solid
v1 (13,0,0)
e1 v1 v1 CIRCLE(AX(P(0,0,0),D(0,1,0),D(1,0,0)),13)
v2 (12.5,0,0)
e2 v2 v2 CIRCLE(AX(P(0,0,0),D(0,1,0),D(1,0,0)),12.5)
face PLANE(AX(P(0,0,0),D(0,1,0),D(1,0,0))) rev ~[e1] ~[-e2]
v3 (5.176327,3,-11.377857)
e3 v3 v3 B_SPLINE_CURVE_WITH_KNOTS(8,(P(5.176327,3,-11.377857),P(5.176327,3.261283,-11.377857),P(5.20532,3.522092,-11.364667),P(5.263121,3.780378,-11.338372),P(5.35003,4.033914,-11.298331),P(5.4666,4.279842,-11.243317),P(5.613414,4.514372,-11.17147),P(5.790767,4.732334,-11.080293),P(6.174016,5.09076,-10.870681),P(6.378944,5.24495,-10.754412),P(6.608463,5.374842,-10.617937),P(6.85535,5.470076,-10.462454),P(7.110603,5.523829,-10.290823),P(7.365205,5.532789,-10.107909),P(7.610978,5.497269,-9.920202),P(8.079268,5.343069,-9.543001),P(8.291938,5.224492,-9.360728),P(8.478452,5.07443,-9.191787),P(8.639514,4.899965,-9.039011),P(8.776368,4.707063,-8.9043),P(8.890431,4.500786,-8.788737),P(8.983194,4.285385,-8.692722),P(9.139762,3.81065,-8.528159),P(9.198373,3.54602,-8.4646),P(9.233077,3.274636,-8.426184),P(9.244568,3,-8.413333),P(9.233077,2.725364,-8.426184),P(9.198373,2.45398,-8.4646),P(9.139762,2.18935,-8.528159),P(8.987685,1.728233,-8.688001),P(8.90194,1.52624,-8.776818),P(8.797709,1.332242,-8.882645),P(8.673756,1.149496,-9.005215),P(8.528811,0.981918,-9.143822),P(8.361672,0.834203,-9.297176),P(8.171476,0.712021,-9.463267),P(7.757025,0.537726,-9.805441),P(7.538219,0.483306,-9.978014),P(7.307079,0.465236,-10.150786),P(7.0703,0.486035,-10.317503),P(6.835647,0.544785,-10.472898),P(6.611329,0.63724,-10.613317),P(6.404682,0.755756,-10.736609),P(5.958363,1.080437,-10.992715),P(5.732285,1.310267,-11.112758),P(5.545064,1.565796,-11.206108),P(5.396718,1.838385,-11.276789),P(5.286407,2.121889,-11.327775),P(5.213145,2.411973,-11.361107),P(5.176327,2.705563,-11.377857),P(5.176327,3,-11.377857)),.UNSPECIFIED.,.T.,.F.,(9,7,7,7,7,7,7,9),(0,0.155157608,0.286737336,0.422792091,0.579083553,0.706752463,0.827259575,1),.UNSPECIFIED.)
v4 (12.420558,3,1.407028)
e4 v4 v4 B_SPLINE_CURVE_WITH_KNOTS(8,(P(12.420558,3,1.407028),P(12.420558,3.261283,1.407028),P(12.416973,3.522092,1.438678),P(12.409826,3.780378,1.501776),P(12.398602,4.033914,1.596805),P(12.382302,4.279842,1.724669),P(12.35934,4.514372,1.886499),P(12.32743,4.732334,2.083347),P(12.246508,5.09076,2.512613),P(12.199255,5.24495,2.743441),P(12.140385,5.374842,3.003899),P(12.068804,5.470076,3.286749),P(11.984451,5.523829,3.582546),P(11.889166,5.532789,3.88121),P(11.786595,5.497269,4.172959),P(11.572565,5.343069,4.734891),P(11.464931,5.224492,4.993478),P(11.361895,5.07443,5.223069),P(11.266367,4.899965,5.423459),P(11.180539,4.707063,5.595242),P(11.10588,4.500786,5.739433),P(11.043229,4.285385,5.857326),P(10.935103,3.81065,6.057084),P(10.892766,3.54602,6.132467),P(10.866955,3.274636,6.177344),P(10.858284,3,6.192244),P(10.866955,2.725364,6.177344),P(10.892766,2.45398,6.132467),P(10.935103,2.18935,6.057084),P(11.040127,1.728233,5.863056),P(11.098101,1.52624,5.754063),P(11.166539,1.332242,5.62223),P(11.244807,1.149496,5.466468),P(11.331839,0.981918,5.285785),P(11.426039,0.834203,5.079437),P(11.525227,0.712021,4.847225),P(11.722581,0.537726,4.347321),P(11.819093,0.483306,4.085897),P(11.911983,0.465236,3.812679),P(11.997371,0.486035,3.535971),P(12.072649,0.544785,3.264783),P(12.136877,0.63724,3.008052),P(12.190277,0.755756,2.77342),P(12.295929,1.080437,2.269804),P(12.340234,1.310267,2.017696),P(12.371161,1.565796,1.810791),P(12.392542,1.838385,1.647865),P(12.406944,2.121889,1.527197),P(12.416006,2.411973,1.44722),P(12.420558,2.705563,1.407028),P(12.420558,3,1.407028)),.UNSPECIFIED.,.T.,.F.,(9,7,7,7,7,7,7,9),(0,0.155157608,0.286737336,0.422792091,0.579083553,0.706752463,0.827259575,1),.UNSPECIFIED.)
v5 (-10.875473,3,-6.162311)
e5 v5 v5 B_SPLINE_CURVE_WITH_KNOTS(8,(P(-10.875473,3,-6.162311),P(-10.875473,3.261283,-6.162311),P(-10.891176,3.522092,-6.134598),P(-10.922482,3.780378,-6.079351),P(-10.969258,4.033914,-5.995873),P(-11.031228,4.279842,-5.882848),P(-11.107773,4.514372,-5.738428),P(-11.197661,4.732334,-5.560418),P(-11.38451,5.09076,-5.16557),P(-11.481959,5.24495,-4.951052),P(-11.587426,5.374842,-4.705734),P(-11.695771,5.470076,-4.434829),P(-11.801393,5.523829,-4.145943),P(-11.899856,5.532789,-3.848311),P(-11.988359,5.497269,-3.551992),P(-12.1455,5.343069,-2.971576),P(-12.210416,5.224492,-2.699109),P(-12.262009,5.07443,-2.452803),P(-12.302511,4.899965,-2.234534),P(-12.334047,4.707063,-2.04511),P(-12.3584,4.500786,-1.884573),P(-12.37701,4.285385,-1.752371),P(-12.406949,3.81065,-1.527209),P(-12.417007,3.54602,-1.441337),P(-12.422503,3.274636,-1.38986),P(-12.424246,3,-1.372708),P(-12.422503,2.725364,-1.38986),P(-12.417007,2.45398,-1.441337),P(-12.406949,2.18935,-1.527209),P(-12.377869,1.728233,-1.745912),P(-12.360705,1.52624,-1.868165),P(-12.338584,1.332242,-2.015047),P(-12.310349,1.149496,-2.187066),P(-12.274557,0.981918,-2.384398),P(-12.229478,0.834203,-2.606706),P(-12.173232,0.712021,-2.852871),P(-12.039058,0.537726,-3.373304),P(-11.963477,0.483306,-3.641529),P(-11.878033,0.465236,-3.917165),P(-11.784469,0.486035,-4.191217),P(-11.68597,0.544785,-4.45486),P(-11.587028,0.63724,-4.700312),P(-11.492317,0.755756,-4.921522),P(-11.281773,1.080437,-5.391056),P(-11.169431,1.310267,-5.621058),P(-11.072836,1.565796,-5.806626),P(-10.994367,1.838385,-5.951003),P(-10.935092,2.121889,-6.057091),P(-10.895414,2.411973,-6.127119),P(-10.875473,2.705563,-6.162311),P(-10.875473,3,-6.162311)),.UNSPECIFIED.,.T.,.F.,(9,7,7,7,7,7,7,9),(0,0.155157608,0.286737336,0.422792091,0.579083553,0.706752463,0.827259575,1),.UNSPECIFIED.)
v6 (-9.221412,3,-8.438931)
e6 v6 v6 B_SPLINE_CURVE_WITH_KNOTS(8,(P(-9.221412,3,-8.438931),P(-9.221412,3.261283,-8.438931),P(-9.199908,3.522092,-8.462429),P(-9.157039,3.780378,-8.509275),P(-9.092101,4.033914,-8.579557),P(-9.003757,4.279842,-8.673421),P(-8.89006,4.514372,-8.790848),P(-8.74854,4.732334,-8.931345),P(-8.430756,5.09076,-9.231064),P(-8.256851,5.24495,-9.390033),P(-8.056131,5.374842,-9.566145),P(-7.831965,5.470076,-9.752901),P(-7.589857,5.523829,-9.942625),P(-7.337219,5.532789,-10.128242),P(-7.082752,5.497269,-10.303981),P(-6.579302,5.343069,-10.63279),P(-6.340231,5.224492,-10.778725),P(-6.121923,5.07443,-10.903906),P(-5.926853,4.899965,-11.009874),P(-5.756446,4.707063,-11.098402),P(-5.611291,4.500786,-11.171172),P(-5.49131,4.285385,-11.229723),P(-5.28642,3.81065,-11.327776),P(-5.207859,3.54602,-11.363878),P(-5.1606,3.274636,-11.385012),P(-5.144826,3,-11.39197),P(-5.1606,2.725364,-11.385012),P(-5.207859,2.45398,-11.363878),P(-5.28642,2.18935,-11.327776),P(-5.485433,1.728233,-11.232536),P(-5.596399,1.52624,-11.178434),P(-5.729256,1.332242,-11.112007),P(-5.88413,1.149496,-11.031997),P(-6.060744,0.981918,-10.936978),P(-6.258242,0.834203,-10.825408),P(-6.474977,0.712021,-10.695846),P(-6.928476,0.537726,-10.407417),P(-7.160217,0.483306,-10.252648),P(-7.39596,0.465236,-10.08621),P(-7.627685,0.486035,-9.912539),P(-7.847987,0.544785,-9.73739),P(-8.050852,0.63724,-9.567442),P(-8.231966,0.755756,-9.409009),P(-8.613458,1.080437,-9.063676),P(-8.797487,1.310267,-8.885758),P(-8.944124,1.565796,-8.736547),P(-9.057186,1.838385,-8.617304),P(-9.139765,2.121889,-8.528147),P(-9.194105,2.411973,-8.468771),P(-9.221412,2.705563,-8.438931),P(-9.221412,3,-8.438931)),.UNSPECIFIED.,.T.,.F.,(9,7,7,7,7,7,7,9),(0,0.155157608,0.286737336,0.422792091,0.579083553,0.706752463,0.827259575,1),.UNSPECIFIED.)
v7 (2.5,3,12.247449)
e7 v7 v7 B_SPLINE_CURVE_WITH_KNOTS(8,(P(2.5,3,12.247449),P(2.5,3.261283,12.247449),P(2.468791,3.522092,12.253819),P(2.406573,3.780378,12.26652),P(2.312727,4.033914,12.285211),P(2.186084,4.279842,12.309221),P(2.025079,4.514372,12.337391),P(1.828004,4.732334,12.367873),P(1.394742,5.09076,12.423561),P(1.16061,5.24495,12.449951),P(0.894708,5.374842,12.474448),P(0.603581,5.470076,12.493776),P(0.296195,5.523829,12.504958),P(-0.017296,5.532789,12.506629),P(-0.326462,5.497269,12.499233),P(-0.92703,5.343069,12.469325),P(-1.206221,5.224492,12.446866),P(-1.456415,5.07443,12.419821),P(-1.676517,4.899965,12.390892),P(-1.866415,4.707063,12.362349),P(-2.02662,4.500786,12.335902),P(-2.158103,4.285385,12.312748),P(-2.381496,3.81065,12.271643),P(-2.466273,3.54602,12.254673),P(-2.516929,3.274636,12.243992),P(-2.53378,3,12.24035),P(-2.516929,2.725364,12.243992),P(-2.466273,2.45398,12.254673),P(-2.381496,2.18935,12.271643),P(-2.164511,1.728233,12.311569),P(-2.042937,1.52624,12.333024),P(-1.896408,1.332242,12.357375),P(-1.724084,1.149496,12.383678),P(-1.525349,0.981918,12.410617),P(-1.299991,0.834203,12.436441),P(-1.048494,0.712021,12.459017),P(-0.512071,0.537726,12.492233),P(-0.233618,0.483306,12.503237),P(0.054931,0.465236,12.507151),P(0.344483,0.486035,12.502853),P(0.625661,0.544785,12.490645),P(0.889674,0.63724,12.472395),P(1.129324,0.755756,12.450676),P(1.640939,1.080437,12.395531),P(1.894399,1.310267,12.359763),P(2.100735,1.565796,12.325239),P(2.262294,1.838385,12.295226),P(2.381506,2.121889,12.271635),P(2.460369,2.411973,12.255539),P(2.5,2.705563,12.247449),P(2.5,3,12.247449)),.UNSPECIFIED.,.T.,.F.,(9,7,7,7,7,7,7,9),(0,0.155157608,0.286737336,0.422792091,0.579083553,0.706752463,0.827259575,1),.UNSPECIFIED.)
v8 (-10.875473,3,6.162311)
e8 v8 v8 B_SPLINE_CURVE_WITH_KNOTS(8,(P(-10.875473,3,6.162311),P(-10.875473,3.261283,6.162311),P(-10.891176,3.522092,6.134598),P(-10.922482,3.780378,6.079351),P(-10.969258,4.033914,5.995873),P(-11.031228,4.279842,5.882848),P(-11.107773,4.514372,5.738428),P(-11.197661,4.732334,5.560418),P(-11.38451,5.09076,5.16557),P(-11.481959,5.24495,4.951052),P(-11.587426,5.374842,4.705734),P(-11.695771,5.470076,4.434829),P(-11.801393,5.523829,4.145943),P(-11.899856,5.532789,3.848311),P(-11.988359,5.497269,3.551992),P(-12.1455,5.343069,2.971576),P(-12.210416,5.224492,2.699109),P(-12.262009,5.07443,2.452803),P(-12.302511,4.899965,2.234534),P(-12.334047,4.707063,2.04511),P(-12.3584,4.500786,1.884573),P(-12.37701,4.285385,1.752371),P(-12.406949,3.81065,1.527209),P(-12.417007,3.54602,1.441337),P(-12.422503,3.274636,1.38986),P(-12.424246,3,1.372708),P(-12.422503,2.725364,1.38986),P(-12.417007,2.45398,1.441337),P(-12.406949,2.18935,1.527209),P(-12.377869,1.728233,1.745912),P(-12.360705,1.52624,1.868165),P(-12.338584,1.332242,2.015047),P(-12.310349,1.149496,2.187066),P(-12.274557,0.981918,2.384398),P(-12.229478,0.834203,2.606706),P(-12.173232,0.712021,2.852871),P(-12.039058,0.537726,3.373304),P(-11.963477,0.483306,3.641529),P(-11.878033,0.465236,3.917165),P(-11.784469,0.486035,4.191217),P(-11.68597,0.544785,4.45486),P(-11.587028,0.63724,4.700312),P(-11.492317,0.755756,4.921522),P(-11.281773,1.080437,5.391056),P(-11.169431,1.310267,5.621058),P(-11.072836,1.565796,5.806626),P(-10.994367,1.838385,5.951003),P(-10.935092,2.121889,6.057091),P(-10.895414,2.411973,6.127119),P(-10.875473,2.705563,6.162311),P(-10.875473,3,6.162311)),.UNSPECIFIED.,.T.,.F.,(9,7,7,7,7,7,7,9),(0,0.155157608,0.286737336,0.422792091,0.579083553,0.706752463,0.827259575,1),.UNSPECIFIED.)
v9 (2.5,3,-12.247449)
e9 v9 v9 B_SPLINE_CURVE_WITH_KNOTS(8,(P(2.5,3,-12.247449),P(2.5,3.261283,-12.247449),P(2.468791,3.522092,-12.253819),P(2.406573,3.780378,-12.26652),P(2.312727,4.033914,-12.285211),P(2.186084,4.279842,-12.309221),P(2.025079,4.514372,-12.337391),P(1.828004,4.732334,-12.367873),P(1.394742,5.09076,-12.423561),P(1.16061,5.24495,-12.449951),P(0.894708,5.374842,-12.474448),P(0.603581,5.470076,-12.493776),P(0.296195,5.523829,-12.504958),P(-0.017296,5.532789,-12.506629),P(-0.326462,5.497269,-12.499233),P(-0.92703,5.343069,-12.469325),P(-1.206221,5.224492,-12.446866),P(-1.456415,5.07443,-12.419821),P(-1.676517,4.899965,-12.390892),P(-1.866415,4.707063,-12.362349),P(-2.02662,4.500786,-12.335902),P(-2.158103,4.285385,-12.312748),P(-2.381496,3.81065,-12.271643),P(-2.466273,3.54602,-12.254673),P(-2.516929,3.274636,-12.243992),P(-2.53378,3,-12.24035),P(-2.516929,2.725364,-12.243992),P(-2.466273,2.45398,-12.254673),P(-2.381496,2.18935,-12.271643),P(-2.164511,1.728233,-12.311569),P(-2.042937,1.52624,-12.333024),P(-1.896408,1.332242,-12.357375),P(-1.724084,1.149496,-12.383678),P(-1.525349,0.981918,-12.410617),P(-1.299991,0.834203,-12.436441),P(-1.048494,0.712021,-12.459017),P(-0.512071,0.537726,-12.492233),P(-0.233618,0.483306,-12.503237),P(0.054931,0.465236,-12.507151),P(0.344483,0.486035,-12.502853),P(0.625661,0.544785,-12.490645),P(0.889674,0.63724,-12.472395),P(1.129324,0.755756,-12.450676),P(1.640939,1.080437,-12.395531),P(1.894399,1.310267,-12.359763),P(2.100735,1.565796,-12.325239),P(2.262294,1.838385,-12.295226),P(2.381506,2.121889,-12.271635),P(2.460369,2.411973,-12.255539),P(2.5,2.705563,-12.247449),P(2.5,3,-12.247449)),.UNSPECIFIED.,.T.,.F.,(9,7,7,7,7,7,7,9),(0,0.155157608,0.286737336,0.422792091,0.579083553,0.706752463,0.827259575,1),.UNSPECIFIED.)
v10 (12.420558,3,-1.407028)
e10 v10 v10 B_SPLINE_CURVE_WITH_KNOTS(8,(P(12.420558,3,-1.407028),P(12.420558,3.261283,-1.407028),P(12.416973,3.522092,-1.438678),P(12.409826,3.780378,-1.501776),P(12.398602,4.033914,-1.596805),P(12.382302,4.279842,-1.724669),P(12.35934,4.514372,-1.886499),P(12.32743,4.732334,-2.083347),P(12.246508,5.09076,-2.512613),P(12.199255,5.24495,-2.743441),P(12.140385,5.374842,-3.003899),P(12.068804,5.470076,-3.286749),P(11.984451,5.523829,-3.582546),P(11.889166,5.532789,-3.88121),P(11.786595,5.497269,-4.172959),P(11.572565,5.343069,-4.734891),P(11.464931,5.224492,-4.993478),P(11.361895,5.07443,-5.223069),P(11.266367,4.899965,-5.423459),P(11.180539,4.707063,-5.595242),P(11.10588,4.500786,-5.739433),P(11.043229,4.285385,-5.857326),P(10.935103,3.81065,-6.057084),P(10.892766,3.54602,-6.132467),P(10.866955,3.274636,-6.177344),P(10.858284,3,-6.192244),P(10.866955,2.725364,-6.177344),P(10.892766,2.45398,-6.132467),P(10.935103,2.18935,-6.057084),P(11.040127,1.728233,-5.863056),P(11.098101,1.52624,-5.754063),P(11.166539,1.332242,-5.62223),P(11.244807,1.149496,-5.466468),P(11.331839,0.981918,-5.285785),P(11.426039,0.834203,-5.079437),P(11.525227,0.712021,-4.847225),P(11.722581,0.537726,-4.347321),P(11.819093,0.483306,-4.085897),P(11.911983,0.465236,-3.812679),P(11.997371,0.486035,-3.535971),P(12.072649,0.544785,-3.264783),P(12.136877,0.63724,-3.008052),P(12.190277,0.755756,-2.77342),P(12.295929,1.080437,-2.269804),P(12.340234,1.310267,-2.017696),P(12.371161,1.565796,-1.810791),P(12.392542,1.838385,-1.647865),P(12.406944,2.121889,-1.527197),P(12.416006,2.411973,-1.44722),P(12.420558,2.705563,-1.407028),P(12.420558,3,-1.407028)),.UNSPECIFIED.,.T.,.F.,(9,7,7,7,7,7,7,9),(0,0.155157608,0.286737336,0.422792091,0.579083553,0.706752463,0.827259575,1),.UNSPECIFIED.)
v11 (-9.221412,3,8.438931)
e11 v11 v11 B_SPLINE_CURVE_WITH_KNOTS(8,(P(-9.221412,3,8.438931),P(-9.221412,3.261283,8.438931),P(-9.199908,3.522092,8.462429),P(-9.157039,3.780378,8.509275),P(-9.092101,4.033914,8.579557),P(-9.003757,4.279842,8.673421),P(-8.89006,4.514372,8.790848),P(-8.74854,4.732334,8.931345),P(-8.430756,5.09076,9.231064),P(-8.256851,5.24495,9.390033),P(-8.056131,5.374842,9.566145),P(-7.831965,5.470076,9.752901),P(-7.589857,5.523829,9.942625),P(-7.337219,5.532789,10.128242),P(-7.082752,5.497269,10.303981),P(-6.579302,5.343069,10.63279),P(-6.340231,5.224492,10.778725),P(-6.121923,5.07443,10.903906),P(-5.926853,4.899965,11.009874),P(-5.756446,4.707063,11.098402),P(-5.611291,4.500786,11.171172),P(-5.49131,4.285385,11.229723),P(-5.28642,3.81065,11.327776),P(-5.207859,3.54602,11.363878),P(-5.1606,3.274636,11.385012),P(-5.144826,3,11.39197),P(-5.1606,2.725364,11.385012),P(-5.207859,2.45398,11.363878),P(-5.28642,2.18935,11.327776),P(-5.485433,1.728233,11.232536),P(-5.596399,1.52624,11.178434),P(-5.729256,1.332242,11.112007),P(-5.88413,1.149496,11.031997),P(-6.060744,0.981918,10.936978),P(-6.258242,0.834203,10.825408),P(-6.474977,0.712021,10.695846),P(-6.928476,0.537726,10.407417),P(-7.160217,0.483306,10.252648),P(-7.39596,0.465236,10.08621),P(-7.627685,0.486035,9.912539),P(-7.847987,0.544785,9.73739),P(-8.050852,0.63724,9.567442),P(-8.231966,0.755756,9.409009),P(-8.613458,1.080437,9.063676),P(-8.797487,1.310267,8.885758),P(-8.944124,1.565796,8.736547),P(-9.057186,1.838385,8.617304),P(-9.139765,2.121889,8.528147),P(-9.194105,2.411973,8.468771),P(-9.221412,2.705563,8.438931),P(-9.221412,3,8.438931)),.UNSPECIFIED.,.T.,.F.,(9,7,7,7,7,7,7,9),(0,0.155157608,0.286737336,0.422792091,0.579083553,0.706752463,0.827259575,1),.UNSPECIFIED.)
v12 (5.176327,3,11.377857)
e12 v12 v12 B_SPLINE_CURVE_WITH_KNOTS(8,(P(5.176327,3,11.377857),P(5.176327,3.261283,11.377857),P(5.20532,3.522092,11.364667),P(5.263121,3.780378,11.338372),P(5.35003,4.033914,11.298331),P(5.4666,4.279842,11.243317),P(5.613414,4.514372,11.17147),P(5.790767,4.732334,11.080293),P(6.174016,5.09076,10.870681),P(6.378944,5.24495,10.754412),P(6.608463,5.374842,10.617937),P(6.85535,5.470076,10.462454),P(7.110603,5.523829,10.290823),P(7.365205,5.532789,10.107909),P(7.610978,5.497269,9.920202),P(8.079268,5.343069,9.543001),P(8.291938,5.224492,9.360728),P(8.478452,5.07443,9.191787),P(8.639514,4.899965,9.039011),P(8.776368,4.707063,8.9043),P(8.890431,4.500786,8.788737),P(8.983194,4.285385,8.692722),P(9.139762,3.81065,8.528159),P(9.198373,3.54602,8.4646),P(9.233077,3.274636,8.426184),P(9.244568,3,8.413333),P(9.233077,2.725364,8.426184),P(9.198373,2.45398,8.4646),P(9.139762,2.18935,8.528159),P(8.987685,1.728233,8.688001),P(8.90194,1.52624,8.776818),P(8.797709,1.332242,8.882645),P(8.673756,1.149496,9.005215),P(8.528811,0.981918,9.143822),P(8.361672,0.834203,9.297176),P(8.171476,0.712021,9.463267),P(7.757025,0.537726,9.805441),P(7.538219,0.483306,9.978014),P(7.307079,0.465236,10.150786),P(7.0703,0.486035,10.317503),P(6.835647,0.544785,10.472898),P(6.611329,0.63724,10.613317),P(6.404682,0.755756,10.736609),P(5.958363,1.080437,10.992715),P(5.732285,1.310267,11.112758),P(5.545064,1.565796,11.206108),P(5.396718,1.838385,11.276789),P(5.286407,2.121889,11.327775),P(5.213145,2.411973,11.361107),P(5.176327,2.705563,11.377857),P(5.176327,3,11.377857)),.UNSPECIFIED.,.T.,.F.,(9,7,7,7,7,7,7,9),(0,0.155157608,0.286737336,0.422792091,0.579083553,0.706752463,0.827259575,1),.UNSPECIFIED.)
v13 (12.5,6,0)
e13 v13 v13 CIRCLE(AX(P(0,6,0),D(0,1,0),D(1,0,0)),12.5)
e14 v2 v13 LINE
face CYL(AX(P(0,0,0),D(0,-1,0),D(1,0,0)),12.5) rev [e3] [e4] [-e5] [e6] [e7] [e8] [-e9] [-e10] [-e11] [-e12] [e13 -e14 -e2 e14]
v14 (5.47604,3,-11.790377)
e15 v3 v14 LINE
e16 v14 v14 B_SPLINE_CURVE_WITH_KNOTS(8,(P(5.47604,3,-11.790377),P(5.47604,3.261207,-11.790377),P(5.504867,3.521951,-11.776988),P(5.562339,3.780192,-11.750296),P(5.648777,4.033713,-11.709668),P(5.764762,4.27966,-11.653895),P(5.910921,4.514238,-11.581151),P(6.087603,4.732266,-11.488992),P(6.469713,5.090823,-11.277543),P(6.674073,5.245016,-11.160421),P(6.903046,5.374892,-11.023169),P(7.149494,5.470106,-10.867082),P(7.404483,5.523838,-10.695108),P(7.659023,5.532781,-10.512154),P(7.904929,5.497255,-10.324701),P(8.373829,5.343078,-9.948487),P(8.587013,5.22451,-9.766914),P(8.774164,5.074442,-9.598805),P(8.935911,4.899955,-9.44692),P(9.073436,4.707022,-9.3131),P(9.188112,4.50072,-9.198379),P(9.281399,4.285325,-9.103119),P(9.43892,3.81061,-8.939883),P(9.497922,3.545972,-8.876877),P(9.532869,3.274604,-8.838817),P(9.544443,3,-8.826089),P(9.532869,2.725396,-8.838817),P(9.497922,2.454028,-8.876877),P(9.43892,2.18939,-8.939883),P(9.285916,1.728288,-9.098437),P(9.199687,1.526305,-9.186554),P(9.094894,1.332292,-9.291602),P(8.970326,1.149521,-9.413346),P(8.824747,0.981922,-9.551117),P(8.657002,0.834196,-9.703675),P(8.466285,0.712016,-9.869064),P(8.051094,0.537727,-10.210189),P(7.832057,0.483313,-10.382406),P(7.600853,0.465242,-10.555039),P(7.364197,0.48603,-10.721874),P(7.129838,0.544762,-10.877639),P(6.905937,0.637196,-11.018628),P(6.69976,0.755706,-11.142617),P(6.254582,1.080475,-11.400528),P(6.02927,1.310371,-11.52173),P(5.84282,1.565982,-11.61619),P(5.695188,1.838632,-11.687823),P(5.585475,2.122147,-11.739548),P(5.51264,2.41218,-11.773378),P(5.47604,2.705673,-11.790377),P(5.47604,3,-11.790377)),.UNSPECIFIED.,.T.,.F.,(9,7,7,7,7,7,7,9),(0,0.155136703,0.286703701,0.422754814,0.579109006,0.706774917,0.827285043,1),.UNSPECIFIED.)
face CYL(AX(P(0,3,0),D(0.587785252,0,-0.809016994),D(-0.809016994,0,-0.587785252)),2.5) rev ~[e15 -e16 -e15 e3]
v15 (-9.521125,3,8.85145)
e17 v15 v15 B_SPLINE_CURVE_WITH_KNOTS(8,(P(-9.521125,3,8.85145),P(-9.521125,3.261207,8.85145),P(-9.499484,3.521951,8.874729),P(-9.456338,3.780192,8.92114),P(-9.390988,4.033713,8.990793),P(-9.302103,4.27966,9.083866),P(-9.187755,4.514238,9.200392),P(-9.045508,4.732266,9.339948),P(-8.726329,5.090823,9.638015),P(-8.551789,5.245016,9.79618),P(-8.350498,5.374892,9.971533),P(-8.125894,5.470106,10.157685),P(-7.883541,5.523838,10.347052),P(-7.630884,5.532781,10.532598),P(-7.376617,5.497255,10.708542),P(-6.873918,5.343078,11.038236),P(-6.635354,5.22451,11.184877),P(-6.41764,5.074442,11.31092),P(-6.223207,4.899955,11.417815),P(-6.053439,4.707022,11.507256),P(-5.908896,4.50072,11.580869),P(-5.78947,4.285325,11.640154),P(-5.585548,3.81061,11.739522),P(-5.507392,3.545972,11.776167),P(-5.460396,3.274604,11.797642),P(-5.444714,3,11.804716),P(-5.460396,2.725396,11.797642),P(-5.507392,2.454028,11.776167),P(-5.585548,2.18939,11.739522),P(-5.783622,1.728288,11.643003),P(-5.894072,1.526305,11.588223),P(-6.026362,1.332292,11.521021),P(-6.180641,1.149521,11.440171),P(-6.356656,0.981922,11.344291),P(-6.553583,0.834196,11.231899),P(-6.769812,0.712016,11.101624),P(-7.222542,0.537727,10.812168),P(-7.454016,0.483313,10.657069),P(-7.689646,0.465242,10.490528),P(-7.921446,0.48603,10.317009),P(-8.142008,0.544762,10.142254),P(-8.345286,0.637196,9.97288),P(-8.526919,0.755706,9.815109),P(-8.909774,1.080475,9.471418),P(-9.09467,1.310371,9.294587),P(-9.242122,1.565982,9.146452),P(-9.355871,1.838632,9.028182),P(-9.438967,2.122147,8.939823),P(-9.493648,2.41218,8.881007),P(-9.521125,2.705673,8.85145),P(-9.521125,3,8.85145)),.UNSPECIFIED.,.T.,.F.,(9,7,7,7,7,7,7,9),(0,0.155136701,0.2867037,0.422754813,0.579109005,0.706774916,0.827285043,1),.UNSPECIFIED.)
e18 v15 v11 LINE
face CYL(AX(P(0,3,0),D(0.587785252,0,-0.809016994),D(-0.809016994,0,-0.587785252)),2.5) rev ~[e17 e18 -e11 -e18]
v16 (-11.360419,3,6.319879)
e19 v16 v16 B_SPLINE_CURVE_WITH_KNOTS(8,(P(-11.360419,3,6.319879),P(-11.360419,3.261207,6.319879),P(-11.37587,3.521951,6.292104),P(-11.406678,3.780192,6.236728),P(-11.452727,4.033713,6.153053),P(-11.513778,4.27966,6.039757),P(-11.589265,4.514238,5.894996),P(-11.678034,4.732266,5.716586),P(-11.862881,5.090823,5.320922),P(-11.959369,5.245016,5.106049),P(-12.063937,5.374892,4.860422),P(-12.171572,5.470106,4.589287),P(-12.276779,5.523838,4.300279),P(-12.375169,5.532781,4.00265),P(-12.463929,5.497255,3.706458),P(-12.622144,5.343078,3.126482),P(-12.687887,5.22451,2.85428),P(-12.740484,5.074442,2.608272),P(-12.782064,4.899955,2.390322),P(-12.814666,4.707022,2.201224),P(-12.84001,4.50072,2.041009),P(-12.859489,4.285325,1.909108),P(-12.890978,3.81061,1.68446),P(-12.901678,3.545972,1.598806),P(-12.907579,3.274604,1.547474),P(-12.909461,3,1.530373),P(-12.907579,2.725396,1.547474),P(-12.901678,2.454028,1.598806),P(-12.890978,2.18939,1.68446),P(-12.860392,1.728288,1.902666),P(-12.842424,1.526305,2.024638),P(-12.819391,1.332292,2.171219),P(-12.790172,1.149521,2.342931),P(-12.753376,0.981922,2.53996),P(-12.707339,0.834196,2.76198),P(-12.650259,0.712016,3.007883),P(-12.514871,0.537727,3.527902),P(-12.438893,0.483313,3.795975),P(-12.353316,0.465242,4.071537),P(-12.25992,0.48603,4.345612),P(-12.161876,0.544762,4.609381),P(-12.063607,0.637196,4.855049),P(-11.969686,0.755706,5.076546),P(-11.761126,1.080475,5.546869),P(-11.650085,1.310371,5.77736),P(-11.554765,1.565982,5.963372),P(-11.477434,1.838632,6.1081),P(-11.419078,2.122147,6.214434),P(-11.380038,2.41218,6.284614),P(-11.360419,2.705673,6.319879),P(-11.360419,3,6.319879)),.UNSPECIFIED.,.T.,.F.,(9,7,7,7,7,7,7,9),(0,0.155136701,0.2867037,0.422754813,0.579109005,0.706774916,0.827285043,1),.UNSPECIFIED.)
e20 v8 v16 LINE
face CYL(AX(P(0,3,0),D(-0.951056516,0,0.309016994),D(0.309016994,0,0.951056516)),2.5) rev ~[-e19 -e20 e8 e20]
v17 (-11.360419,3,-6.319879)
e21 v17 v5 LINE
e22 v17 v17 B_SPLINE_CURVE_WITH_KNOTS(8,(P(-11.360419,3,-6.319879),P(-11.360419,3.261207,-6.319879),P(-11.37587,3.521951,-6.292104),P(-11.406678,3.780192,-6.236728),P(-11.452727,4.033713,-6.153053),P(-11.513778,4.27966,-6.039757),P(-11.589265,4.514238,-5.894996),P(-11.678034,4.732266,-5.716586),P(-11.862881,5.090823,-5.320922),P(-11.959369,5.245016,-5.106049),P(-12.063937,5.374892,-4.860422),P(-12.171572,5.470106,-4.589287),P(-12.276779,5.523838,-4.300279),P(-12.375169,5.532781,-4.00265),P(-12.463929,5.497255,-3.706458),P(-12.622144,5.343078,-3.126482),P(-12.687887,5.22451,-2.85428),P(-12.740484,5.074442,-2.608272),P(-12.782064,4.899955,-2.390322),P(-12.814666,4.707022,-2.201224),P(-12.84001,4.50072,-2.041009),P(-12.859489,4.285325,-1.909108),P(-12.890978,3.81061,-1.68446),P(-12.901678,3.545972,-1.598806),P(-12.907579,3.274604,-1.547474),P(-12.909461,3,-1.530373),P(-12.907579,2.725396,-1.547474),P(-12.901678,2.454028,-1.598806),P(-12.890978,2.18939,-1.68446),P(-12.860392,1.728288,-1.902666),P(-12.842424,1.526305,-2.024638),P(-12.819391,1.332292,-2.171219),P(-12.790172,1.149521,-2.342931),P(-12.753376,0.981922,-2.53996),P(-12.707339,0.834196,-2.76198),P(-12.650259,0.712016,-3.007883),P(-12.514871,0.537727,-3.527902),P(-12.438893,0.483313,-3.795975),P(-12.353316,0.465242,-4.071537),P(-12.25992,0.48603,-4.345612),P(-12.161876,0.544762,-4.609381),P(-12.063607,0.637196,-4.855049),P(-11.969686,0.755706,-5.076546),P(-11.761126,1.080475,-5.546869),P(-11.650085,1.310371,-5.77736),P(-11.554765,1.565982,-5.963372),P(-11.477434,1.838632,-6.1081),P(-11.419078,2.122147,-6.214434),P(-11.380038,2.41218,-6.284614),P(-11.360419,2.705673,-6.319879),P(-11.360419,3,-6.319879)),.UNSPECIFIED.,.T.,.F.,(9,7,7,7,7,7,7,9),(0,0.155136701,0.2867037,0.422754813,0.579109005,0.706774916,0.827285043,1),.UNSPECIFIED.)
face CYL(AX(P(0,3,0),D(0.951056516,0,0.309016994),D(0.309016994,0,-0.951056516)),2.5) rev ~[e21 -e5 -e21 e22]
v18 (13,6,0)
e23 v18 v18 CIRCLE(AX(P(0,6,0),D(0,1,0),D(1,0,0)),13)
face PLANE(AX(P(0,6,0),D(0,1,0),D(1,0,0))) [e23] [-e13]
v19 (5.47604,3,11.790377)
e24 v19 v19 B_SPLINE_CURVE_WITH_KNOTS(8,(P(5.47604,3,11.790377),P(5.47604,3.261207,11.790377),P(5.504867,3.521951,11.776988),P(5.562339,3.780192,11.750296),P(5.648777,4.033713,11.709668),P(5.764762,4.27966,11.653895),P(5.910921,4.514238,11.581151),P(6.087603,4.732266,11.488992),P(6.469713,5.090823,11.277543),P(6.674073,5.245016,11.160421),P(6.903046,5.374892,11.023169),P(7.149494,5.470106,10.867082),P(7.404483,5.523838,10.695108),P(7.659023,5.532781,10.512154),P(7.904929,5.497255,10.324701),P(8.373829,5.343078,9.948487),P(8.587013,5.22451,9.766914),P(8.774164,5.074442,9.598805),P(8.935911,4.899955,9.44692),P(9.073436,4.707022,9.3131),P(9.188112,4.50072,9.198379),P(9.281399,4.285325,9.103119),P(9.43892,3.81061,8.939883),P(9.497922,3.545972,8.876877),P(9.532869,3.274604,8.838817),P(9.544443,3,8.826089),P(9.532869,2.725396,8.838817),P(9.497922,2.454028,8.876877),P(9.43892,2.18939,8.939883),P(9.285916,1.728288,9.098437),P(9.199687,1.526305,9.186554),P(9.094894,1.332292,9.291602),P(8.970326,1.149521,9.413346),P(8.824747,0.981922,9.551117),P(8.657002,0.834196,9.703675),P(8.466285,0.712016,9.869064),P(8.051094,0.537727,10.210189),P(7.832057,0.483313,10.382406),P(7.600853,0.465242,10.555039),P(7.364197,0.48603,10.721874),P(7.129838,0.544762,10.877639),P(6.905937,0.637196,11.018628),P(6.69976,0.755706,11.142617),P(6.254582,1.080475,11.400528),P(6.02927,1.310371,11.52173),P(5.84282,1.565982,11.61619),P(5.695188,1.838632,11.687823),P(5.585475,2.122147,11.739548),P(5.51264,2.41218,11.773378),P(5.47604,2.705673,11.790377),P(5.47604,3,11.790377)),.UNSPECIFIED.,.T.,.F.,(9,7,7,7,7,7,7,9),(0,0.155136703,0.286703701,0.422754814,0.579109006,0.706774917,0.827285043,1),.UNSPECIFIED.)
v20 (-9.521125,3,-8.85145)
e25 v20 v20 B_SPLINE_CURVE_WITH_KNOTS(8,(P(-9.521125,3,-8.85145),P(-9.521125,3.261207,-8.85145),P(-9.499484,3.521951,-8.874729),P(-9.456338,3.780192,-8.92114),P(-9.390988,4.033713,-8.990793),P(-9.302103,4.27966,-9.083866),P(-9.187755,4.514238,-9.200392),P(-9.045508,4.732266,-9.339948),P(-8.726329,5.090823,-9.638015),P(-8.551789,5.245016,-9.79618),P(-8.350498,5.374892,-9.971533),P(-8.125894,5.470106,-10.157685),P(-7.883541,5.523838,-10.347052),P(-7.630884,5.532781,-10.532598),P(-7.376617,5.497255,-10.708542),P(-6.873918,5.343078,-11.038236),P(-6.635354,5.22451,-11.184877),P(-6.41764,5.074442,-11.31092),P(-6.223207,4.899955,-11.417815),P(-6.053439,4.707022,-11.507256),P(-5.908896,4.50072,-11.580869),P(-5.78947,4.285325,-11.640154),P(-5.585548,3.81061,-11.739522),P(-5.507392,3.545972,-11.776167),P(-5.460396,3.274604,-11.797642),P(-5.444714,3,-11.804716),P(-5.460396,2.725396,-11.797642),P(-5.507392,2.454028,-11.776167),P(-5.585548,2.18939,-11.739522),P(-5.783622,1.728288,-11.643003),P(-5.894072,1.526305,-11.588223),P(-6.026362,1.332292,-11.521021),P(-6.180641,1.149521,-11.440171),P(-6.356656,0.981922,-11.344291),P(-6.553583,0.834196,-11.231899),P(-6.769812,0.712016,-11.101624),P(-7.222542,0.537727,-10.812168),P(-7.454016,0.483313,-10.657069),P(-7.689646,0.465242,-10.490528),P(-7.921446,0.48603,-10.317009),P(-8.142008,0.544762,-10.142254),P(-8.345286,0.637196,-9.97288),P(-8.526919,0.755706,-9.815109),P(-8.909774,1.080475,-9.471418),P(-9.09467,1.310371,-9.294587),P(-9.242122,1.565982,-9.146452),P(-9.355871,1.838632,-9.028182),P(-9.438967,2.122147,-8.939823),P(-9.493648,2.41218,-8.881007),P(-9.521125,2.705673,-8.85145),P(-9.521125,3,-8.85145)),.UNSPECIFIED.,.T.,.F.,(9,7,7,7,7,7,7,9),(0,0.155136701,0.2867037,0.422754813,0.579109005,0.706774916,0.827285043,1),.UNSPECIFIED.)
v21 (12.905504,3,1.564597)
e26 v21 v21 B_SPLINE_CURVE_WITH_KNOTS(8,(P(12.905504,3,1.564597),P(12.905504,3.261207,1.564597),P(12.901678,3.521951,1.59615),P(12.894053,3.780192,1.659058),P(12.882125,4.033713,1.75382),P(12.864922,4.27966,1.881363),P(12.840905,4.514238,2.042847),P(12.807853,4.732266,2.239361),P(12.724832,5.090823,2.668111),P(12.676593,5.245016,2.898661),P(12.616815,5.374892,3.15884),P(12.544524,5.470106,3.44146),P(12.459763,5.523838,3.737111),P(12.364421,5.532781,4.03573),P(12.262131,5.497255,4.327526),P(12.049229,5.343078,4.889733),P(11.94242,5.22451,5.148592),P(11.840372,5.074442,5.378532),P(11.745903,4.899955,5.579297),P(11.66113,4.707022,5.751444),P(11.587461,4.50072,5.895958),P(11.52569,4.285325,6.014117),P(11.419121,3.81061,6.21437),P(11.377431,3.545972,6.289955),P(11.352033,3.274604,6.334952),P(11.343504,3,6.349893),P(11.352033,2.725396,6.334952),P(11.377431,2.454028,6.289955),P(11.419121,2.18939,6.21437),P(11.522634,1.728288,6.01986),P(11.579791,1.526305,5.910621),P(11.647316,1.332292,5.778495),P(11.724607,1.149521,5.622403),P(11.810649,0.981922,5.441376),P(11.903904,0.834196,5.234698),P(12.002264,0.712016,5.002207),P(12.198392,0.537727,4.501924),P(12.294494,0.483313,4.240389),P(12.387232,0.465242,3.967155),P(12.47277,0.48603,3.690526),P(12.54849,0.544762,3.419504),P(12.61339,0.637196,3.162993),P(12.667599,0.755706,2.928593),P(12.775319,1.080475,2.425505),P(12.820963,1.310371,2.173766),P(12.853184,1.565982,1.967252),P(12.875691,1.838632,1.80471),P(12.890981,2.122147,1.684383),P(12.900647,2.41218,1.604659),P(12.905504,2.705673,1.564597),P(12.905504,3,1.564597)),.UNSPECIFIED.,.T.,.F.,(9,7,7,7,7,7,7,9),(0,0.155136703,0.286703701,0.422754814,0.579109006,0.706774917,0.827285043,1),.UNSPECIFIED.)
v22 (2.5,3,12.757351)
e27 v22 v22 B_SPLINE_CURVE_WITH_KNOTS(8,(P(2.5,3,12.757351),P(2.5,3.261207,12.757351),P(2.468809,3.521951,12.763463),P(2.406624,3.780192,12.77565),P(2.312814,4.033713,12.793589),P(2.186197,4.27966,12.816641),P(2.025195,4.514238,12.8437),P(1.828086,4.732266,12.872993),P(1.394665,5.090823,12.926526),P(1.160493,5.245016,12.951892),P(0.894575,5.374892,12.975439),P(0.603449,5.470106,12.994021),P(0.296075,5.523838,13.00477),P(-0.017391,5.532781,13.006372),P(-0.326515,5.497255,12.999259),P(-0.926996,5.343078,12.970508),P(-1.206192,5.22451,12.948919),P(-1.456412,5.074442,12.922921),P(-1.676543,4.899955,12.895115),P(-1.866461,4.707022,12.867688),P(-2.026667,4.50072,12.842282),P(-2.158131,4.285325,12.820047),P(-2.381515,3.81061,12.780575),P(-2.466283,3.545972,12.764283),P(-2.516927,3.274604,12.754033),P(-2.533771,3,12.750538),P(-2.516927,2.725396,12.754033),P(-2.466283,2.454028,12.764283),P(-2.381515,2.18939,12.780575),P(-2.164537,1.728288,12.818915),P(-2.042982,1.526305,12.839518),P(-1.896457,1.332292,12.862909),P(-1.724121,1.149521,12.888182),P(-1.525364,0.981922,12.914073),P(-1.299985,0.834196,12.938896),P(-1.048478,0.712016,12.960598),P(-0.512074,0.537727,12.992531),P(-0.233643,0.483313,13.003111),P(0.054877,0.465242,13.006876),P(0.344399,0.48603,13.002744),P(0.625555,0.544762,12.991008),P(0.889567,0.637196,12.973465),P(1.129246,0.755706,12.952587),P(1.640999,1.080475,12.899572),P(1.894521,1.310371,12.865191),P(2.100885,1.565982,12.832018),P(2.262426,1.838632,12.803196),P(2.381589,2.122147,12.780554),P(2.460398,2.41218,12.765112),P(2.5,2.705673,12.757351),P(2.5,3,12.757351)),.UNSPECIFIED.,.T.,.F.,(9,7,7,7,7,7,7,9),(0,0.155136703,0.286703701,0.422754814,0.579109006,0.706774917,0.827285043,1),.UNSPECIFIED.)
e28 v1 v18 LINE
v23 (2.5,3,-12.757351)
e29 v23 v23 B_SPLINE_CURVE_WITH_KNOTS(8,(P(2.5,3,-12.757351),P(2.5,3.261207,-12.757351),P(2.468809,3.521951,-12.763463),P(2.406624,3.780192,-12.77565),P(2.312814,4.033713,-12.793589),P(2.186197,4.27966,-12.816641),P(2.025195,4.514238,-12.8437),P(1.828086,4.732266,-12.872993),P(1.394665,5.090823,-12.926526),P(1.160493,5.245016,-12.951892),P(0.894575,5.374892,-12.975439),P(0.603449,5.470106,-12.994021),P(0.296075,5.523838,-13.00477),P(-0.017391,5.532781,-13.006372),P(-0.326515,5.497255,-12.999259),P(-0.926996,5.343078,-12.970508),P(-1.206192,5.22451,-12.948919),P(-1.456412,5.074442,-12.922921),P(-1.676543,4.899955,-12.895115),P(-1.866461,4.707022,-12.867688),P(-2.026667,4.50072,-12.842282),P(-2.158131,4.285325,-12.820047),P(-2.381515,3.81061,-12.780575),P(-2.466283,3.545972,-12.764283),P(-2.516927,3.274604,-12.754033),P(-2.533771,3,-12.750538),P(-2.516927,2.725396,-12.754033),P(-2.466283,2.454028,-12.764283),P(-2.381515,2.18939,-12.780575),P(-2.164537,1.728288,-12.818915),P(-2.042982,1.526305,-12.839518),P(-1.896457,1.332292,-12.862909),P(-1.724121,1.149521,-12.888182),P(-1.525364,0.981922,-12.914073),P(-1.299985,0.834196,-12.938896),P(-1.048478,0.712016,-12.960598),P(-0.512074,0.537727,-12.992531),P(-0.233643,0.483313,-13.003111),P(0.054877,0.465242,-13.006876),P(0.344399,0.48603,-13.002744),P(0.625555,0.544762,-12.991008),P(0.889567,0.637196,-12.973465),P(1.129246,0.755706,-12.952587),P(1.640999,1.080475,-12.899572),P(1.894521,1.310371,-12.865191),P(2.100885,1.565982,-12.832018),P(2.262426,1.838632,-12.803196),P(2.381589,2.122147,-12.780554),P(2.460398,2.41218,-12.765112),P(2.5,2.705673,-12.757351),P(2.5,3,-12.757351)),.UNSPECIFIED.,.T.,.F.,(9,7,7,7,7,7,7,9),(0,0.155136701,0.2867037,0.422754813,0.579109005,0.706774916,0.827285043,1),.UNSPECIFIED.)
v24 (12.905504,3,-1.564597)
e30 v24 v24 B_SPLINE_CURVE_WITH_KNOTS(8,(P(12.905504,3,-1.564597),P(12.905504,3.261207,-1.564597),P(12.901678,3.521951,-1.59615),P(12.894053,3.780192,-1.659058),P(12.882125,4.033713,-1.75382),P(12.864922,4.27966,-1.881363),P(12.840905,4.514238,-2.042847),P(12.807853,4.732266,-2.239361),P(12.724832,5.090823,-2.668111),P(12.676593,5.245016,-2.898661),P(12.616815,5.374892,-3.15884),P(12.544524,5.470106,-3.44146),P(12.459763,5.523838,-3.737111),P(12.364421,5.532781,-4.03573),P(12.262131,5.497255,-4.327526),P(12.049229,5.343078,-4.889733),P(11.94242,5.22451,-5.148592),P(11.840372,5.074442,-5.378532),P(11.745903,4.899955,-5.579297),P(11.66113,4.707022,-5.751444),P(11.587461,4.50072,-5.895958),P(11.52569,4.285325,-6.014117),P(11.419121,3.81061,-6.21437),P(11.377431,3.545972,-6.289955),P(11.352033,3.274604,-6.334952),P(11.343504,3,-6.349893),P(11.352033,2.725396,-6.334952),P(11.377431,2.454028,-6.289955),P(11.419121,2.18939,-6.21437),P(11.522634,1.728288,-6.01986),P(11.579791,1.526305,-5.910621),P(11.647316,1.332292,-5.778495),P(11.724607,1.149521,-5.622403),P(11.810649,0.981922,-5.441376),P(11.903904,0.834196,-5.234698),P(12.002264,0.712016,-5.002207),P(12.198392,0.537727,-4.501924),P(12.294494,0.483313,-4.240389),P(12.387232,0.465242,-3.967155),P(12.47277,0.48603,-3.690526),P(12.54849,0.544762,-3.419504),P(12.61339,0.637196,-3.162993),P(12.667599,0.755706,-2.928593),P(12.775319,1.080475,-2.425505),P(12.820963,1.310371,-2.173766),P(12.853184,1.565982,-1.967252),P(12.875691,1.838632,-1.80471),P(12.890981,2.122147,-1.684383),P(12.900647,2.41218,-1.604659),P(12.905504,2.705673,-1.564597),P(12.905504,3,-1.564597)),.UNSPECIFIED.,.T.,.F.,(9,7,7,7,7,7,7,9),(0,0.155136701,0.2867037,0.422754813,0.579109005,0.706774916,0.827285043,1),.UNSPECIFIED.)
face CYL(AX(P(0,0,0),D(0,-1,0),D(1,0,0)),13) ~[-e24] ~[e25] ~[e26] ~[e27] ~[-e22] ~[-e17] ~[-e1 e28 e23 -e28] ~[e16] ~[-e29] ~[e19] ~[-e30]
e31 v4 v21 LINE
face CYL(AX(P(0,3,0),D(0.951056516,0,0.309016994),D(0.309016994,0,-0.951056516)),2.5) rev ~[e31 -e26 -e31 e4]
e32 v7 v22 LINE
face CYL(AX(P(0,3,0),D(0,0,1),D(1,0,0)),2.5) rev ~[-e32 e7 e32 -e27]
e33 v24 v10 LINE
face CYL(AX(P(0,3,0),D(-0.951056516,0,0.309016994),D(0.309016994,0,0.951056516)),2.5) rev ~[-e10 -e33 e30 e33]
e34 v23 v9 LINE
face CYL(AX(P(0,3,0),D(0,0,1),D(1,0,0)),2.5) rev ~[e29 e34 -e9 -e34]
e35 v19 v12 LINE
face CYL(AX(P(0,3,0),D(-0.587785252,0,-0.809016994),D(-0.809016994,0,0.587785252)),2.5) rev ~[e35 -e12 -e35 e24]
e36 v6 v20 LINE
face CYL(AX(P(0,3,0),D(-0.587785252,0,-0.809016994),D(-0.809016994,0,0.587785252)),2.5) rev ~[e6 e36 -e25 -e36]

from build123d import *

# Parameters (mm, degrees)
SKETCH1_R           = 13
SKETCH1_R_2         = 12.5
BOSS_EXTRUDE2_DEPTH = 6
SKETCH5_R           = 2.5
CUT_EXTRUDE1_DEPTH  = 14
CIRPATTERN1_COUNT   = 5


with BuildPart() as part:
    # Sketch1 → Boss-Extrude2 (new body)
    with BuildSketch(Plane(origin=(0, 0, 0), x_dir=(1, 0, 0), z_dir=(0, 1, 0))):
        Circle(SKETCH1_R)
        Circle(SKETCH1_R_2, mode=Mode.SUBTRACT)
    extrude(amount=BOSS_EXTRUDE2_DEPTH)

    # Sketch5 → Cut-Extrude1 (cut, symmetric)
    with BuildSketch(Plane.XY):
        with Locations((0, 3)):
            Circle(SKETCH5_R)
    cut_extrude1 = extrude(amount=CUT_EXTRUDE1_DEPTH, both=True, mode=Mode.SUBTRACT)

    # CirPattern1: Cut-Extrude1 ×5 about axis
    cirpattern1_axis = Axis((0, 6, 0), (0, -1, 0))
    for i in range(1, CIRPATTERN1_COUNT):
        add(cut_extrude1.rotate(cirpattern1_axis, i * 360 / CIRPATTERN1_COUNT), mode=Mode.SUBTRACT)


solid = part.part
